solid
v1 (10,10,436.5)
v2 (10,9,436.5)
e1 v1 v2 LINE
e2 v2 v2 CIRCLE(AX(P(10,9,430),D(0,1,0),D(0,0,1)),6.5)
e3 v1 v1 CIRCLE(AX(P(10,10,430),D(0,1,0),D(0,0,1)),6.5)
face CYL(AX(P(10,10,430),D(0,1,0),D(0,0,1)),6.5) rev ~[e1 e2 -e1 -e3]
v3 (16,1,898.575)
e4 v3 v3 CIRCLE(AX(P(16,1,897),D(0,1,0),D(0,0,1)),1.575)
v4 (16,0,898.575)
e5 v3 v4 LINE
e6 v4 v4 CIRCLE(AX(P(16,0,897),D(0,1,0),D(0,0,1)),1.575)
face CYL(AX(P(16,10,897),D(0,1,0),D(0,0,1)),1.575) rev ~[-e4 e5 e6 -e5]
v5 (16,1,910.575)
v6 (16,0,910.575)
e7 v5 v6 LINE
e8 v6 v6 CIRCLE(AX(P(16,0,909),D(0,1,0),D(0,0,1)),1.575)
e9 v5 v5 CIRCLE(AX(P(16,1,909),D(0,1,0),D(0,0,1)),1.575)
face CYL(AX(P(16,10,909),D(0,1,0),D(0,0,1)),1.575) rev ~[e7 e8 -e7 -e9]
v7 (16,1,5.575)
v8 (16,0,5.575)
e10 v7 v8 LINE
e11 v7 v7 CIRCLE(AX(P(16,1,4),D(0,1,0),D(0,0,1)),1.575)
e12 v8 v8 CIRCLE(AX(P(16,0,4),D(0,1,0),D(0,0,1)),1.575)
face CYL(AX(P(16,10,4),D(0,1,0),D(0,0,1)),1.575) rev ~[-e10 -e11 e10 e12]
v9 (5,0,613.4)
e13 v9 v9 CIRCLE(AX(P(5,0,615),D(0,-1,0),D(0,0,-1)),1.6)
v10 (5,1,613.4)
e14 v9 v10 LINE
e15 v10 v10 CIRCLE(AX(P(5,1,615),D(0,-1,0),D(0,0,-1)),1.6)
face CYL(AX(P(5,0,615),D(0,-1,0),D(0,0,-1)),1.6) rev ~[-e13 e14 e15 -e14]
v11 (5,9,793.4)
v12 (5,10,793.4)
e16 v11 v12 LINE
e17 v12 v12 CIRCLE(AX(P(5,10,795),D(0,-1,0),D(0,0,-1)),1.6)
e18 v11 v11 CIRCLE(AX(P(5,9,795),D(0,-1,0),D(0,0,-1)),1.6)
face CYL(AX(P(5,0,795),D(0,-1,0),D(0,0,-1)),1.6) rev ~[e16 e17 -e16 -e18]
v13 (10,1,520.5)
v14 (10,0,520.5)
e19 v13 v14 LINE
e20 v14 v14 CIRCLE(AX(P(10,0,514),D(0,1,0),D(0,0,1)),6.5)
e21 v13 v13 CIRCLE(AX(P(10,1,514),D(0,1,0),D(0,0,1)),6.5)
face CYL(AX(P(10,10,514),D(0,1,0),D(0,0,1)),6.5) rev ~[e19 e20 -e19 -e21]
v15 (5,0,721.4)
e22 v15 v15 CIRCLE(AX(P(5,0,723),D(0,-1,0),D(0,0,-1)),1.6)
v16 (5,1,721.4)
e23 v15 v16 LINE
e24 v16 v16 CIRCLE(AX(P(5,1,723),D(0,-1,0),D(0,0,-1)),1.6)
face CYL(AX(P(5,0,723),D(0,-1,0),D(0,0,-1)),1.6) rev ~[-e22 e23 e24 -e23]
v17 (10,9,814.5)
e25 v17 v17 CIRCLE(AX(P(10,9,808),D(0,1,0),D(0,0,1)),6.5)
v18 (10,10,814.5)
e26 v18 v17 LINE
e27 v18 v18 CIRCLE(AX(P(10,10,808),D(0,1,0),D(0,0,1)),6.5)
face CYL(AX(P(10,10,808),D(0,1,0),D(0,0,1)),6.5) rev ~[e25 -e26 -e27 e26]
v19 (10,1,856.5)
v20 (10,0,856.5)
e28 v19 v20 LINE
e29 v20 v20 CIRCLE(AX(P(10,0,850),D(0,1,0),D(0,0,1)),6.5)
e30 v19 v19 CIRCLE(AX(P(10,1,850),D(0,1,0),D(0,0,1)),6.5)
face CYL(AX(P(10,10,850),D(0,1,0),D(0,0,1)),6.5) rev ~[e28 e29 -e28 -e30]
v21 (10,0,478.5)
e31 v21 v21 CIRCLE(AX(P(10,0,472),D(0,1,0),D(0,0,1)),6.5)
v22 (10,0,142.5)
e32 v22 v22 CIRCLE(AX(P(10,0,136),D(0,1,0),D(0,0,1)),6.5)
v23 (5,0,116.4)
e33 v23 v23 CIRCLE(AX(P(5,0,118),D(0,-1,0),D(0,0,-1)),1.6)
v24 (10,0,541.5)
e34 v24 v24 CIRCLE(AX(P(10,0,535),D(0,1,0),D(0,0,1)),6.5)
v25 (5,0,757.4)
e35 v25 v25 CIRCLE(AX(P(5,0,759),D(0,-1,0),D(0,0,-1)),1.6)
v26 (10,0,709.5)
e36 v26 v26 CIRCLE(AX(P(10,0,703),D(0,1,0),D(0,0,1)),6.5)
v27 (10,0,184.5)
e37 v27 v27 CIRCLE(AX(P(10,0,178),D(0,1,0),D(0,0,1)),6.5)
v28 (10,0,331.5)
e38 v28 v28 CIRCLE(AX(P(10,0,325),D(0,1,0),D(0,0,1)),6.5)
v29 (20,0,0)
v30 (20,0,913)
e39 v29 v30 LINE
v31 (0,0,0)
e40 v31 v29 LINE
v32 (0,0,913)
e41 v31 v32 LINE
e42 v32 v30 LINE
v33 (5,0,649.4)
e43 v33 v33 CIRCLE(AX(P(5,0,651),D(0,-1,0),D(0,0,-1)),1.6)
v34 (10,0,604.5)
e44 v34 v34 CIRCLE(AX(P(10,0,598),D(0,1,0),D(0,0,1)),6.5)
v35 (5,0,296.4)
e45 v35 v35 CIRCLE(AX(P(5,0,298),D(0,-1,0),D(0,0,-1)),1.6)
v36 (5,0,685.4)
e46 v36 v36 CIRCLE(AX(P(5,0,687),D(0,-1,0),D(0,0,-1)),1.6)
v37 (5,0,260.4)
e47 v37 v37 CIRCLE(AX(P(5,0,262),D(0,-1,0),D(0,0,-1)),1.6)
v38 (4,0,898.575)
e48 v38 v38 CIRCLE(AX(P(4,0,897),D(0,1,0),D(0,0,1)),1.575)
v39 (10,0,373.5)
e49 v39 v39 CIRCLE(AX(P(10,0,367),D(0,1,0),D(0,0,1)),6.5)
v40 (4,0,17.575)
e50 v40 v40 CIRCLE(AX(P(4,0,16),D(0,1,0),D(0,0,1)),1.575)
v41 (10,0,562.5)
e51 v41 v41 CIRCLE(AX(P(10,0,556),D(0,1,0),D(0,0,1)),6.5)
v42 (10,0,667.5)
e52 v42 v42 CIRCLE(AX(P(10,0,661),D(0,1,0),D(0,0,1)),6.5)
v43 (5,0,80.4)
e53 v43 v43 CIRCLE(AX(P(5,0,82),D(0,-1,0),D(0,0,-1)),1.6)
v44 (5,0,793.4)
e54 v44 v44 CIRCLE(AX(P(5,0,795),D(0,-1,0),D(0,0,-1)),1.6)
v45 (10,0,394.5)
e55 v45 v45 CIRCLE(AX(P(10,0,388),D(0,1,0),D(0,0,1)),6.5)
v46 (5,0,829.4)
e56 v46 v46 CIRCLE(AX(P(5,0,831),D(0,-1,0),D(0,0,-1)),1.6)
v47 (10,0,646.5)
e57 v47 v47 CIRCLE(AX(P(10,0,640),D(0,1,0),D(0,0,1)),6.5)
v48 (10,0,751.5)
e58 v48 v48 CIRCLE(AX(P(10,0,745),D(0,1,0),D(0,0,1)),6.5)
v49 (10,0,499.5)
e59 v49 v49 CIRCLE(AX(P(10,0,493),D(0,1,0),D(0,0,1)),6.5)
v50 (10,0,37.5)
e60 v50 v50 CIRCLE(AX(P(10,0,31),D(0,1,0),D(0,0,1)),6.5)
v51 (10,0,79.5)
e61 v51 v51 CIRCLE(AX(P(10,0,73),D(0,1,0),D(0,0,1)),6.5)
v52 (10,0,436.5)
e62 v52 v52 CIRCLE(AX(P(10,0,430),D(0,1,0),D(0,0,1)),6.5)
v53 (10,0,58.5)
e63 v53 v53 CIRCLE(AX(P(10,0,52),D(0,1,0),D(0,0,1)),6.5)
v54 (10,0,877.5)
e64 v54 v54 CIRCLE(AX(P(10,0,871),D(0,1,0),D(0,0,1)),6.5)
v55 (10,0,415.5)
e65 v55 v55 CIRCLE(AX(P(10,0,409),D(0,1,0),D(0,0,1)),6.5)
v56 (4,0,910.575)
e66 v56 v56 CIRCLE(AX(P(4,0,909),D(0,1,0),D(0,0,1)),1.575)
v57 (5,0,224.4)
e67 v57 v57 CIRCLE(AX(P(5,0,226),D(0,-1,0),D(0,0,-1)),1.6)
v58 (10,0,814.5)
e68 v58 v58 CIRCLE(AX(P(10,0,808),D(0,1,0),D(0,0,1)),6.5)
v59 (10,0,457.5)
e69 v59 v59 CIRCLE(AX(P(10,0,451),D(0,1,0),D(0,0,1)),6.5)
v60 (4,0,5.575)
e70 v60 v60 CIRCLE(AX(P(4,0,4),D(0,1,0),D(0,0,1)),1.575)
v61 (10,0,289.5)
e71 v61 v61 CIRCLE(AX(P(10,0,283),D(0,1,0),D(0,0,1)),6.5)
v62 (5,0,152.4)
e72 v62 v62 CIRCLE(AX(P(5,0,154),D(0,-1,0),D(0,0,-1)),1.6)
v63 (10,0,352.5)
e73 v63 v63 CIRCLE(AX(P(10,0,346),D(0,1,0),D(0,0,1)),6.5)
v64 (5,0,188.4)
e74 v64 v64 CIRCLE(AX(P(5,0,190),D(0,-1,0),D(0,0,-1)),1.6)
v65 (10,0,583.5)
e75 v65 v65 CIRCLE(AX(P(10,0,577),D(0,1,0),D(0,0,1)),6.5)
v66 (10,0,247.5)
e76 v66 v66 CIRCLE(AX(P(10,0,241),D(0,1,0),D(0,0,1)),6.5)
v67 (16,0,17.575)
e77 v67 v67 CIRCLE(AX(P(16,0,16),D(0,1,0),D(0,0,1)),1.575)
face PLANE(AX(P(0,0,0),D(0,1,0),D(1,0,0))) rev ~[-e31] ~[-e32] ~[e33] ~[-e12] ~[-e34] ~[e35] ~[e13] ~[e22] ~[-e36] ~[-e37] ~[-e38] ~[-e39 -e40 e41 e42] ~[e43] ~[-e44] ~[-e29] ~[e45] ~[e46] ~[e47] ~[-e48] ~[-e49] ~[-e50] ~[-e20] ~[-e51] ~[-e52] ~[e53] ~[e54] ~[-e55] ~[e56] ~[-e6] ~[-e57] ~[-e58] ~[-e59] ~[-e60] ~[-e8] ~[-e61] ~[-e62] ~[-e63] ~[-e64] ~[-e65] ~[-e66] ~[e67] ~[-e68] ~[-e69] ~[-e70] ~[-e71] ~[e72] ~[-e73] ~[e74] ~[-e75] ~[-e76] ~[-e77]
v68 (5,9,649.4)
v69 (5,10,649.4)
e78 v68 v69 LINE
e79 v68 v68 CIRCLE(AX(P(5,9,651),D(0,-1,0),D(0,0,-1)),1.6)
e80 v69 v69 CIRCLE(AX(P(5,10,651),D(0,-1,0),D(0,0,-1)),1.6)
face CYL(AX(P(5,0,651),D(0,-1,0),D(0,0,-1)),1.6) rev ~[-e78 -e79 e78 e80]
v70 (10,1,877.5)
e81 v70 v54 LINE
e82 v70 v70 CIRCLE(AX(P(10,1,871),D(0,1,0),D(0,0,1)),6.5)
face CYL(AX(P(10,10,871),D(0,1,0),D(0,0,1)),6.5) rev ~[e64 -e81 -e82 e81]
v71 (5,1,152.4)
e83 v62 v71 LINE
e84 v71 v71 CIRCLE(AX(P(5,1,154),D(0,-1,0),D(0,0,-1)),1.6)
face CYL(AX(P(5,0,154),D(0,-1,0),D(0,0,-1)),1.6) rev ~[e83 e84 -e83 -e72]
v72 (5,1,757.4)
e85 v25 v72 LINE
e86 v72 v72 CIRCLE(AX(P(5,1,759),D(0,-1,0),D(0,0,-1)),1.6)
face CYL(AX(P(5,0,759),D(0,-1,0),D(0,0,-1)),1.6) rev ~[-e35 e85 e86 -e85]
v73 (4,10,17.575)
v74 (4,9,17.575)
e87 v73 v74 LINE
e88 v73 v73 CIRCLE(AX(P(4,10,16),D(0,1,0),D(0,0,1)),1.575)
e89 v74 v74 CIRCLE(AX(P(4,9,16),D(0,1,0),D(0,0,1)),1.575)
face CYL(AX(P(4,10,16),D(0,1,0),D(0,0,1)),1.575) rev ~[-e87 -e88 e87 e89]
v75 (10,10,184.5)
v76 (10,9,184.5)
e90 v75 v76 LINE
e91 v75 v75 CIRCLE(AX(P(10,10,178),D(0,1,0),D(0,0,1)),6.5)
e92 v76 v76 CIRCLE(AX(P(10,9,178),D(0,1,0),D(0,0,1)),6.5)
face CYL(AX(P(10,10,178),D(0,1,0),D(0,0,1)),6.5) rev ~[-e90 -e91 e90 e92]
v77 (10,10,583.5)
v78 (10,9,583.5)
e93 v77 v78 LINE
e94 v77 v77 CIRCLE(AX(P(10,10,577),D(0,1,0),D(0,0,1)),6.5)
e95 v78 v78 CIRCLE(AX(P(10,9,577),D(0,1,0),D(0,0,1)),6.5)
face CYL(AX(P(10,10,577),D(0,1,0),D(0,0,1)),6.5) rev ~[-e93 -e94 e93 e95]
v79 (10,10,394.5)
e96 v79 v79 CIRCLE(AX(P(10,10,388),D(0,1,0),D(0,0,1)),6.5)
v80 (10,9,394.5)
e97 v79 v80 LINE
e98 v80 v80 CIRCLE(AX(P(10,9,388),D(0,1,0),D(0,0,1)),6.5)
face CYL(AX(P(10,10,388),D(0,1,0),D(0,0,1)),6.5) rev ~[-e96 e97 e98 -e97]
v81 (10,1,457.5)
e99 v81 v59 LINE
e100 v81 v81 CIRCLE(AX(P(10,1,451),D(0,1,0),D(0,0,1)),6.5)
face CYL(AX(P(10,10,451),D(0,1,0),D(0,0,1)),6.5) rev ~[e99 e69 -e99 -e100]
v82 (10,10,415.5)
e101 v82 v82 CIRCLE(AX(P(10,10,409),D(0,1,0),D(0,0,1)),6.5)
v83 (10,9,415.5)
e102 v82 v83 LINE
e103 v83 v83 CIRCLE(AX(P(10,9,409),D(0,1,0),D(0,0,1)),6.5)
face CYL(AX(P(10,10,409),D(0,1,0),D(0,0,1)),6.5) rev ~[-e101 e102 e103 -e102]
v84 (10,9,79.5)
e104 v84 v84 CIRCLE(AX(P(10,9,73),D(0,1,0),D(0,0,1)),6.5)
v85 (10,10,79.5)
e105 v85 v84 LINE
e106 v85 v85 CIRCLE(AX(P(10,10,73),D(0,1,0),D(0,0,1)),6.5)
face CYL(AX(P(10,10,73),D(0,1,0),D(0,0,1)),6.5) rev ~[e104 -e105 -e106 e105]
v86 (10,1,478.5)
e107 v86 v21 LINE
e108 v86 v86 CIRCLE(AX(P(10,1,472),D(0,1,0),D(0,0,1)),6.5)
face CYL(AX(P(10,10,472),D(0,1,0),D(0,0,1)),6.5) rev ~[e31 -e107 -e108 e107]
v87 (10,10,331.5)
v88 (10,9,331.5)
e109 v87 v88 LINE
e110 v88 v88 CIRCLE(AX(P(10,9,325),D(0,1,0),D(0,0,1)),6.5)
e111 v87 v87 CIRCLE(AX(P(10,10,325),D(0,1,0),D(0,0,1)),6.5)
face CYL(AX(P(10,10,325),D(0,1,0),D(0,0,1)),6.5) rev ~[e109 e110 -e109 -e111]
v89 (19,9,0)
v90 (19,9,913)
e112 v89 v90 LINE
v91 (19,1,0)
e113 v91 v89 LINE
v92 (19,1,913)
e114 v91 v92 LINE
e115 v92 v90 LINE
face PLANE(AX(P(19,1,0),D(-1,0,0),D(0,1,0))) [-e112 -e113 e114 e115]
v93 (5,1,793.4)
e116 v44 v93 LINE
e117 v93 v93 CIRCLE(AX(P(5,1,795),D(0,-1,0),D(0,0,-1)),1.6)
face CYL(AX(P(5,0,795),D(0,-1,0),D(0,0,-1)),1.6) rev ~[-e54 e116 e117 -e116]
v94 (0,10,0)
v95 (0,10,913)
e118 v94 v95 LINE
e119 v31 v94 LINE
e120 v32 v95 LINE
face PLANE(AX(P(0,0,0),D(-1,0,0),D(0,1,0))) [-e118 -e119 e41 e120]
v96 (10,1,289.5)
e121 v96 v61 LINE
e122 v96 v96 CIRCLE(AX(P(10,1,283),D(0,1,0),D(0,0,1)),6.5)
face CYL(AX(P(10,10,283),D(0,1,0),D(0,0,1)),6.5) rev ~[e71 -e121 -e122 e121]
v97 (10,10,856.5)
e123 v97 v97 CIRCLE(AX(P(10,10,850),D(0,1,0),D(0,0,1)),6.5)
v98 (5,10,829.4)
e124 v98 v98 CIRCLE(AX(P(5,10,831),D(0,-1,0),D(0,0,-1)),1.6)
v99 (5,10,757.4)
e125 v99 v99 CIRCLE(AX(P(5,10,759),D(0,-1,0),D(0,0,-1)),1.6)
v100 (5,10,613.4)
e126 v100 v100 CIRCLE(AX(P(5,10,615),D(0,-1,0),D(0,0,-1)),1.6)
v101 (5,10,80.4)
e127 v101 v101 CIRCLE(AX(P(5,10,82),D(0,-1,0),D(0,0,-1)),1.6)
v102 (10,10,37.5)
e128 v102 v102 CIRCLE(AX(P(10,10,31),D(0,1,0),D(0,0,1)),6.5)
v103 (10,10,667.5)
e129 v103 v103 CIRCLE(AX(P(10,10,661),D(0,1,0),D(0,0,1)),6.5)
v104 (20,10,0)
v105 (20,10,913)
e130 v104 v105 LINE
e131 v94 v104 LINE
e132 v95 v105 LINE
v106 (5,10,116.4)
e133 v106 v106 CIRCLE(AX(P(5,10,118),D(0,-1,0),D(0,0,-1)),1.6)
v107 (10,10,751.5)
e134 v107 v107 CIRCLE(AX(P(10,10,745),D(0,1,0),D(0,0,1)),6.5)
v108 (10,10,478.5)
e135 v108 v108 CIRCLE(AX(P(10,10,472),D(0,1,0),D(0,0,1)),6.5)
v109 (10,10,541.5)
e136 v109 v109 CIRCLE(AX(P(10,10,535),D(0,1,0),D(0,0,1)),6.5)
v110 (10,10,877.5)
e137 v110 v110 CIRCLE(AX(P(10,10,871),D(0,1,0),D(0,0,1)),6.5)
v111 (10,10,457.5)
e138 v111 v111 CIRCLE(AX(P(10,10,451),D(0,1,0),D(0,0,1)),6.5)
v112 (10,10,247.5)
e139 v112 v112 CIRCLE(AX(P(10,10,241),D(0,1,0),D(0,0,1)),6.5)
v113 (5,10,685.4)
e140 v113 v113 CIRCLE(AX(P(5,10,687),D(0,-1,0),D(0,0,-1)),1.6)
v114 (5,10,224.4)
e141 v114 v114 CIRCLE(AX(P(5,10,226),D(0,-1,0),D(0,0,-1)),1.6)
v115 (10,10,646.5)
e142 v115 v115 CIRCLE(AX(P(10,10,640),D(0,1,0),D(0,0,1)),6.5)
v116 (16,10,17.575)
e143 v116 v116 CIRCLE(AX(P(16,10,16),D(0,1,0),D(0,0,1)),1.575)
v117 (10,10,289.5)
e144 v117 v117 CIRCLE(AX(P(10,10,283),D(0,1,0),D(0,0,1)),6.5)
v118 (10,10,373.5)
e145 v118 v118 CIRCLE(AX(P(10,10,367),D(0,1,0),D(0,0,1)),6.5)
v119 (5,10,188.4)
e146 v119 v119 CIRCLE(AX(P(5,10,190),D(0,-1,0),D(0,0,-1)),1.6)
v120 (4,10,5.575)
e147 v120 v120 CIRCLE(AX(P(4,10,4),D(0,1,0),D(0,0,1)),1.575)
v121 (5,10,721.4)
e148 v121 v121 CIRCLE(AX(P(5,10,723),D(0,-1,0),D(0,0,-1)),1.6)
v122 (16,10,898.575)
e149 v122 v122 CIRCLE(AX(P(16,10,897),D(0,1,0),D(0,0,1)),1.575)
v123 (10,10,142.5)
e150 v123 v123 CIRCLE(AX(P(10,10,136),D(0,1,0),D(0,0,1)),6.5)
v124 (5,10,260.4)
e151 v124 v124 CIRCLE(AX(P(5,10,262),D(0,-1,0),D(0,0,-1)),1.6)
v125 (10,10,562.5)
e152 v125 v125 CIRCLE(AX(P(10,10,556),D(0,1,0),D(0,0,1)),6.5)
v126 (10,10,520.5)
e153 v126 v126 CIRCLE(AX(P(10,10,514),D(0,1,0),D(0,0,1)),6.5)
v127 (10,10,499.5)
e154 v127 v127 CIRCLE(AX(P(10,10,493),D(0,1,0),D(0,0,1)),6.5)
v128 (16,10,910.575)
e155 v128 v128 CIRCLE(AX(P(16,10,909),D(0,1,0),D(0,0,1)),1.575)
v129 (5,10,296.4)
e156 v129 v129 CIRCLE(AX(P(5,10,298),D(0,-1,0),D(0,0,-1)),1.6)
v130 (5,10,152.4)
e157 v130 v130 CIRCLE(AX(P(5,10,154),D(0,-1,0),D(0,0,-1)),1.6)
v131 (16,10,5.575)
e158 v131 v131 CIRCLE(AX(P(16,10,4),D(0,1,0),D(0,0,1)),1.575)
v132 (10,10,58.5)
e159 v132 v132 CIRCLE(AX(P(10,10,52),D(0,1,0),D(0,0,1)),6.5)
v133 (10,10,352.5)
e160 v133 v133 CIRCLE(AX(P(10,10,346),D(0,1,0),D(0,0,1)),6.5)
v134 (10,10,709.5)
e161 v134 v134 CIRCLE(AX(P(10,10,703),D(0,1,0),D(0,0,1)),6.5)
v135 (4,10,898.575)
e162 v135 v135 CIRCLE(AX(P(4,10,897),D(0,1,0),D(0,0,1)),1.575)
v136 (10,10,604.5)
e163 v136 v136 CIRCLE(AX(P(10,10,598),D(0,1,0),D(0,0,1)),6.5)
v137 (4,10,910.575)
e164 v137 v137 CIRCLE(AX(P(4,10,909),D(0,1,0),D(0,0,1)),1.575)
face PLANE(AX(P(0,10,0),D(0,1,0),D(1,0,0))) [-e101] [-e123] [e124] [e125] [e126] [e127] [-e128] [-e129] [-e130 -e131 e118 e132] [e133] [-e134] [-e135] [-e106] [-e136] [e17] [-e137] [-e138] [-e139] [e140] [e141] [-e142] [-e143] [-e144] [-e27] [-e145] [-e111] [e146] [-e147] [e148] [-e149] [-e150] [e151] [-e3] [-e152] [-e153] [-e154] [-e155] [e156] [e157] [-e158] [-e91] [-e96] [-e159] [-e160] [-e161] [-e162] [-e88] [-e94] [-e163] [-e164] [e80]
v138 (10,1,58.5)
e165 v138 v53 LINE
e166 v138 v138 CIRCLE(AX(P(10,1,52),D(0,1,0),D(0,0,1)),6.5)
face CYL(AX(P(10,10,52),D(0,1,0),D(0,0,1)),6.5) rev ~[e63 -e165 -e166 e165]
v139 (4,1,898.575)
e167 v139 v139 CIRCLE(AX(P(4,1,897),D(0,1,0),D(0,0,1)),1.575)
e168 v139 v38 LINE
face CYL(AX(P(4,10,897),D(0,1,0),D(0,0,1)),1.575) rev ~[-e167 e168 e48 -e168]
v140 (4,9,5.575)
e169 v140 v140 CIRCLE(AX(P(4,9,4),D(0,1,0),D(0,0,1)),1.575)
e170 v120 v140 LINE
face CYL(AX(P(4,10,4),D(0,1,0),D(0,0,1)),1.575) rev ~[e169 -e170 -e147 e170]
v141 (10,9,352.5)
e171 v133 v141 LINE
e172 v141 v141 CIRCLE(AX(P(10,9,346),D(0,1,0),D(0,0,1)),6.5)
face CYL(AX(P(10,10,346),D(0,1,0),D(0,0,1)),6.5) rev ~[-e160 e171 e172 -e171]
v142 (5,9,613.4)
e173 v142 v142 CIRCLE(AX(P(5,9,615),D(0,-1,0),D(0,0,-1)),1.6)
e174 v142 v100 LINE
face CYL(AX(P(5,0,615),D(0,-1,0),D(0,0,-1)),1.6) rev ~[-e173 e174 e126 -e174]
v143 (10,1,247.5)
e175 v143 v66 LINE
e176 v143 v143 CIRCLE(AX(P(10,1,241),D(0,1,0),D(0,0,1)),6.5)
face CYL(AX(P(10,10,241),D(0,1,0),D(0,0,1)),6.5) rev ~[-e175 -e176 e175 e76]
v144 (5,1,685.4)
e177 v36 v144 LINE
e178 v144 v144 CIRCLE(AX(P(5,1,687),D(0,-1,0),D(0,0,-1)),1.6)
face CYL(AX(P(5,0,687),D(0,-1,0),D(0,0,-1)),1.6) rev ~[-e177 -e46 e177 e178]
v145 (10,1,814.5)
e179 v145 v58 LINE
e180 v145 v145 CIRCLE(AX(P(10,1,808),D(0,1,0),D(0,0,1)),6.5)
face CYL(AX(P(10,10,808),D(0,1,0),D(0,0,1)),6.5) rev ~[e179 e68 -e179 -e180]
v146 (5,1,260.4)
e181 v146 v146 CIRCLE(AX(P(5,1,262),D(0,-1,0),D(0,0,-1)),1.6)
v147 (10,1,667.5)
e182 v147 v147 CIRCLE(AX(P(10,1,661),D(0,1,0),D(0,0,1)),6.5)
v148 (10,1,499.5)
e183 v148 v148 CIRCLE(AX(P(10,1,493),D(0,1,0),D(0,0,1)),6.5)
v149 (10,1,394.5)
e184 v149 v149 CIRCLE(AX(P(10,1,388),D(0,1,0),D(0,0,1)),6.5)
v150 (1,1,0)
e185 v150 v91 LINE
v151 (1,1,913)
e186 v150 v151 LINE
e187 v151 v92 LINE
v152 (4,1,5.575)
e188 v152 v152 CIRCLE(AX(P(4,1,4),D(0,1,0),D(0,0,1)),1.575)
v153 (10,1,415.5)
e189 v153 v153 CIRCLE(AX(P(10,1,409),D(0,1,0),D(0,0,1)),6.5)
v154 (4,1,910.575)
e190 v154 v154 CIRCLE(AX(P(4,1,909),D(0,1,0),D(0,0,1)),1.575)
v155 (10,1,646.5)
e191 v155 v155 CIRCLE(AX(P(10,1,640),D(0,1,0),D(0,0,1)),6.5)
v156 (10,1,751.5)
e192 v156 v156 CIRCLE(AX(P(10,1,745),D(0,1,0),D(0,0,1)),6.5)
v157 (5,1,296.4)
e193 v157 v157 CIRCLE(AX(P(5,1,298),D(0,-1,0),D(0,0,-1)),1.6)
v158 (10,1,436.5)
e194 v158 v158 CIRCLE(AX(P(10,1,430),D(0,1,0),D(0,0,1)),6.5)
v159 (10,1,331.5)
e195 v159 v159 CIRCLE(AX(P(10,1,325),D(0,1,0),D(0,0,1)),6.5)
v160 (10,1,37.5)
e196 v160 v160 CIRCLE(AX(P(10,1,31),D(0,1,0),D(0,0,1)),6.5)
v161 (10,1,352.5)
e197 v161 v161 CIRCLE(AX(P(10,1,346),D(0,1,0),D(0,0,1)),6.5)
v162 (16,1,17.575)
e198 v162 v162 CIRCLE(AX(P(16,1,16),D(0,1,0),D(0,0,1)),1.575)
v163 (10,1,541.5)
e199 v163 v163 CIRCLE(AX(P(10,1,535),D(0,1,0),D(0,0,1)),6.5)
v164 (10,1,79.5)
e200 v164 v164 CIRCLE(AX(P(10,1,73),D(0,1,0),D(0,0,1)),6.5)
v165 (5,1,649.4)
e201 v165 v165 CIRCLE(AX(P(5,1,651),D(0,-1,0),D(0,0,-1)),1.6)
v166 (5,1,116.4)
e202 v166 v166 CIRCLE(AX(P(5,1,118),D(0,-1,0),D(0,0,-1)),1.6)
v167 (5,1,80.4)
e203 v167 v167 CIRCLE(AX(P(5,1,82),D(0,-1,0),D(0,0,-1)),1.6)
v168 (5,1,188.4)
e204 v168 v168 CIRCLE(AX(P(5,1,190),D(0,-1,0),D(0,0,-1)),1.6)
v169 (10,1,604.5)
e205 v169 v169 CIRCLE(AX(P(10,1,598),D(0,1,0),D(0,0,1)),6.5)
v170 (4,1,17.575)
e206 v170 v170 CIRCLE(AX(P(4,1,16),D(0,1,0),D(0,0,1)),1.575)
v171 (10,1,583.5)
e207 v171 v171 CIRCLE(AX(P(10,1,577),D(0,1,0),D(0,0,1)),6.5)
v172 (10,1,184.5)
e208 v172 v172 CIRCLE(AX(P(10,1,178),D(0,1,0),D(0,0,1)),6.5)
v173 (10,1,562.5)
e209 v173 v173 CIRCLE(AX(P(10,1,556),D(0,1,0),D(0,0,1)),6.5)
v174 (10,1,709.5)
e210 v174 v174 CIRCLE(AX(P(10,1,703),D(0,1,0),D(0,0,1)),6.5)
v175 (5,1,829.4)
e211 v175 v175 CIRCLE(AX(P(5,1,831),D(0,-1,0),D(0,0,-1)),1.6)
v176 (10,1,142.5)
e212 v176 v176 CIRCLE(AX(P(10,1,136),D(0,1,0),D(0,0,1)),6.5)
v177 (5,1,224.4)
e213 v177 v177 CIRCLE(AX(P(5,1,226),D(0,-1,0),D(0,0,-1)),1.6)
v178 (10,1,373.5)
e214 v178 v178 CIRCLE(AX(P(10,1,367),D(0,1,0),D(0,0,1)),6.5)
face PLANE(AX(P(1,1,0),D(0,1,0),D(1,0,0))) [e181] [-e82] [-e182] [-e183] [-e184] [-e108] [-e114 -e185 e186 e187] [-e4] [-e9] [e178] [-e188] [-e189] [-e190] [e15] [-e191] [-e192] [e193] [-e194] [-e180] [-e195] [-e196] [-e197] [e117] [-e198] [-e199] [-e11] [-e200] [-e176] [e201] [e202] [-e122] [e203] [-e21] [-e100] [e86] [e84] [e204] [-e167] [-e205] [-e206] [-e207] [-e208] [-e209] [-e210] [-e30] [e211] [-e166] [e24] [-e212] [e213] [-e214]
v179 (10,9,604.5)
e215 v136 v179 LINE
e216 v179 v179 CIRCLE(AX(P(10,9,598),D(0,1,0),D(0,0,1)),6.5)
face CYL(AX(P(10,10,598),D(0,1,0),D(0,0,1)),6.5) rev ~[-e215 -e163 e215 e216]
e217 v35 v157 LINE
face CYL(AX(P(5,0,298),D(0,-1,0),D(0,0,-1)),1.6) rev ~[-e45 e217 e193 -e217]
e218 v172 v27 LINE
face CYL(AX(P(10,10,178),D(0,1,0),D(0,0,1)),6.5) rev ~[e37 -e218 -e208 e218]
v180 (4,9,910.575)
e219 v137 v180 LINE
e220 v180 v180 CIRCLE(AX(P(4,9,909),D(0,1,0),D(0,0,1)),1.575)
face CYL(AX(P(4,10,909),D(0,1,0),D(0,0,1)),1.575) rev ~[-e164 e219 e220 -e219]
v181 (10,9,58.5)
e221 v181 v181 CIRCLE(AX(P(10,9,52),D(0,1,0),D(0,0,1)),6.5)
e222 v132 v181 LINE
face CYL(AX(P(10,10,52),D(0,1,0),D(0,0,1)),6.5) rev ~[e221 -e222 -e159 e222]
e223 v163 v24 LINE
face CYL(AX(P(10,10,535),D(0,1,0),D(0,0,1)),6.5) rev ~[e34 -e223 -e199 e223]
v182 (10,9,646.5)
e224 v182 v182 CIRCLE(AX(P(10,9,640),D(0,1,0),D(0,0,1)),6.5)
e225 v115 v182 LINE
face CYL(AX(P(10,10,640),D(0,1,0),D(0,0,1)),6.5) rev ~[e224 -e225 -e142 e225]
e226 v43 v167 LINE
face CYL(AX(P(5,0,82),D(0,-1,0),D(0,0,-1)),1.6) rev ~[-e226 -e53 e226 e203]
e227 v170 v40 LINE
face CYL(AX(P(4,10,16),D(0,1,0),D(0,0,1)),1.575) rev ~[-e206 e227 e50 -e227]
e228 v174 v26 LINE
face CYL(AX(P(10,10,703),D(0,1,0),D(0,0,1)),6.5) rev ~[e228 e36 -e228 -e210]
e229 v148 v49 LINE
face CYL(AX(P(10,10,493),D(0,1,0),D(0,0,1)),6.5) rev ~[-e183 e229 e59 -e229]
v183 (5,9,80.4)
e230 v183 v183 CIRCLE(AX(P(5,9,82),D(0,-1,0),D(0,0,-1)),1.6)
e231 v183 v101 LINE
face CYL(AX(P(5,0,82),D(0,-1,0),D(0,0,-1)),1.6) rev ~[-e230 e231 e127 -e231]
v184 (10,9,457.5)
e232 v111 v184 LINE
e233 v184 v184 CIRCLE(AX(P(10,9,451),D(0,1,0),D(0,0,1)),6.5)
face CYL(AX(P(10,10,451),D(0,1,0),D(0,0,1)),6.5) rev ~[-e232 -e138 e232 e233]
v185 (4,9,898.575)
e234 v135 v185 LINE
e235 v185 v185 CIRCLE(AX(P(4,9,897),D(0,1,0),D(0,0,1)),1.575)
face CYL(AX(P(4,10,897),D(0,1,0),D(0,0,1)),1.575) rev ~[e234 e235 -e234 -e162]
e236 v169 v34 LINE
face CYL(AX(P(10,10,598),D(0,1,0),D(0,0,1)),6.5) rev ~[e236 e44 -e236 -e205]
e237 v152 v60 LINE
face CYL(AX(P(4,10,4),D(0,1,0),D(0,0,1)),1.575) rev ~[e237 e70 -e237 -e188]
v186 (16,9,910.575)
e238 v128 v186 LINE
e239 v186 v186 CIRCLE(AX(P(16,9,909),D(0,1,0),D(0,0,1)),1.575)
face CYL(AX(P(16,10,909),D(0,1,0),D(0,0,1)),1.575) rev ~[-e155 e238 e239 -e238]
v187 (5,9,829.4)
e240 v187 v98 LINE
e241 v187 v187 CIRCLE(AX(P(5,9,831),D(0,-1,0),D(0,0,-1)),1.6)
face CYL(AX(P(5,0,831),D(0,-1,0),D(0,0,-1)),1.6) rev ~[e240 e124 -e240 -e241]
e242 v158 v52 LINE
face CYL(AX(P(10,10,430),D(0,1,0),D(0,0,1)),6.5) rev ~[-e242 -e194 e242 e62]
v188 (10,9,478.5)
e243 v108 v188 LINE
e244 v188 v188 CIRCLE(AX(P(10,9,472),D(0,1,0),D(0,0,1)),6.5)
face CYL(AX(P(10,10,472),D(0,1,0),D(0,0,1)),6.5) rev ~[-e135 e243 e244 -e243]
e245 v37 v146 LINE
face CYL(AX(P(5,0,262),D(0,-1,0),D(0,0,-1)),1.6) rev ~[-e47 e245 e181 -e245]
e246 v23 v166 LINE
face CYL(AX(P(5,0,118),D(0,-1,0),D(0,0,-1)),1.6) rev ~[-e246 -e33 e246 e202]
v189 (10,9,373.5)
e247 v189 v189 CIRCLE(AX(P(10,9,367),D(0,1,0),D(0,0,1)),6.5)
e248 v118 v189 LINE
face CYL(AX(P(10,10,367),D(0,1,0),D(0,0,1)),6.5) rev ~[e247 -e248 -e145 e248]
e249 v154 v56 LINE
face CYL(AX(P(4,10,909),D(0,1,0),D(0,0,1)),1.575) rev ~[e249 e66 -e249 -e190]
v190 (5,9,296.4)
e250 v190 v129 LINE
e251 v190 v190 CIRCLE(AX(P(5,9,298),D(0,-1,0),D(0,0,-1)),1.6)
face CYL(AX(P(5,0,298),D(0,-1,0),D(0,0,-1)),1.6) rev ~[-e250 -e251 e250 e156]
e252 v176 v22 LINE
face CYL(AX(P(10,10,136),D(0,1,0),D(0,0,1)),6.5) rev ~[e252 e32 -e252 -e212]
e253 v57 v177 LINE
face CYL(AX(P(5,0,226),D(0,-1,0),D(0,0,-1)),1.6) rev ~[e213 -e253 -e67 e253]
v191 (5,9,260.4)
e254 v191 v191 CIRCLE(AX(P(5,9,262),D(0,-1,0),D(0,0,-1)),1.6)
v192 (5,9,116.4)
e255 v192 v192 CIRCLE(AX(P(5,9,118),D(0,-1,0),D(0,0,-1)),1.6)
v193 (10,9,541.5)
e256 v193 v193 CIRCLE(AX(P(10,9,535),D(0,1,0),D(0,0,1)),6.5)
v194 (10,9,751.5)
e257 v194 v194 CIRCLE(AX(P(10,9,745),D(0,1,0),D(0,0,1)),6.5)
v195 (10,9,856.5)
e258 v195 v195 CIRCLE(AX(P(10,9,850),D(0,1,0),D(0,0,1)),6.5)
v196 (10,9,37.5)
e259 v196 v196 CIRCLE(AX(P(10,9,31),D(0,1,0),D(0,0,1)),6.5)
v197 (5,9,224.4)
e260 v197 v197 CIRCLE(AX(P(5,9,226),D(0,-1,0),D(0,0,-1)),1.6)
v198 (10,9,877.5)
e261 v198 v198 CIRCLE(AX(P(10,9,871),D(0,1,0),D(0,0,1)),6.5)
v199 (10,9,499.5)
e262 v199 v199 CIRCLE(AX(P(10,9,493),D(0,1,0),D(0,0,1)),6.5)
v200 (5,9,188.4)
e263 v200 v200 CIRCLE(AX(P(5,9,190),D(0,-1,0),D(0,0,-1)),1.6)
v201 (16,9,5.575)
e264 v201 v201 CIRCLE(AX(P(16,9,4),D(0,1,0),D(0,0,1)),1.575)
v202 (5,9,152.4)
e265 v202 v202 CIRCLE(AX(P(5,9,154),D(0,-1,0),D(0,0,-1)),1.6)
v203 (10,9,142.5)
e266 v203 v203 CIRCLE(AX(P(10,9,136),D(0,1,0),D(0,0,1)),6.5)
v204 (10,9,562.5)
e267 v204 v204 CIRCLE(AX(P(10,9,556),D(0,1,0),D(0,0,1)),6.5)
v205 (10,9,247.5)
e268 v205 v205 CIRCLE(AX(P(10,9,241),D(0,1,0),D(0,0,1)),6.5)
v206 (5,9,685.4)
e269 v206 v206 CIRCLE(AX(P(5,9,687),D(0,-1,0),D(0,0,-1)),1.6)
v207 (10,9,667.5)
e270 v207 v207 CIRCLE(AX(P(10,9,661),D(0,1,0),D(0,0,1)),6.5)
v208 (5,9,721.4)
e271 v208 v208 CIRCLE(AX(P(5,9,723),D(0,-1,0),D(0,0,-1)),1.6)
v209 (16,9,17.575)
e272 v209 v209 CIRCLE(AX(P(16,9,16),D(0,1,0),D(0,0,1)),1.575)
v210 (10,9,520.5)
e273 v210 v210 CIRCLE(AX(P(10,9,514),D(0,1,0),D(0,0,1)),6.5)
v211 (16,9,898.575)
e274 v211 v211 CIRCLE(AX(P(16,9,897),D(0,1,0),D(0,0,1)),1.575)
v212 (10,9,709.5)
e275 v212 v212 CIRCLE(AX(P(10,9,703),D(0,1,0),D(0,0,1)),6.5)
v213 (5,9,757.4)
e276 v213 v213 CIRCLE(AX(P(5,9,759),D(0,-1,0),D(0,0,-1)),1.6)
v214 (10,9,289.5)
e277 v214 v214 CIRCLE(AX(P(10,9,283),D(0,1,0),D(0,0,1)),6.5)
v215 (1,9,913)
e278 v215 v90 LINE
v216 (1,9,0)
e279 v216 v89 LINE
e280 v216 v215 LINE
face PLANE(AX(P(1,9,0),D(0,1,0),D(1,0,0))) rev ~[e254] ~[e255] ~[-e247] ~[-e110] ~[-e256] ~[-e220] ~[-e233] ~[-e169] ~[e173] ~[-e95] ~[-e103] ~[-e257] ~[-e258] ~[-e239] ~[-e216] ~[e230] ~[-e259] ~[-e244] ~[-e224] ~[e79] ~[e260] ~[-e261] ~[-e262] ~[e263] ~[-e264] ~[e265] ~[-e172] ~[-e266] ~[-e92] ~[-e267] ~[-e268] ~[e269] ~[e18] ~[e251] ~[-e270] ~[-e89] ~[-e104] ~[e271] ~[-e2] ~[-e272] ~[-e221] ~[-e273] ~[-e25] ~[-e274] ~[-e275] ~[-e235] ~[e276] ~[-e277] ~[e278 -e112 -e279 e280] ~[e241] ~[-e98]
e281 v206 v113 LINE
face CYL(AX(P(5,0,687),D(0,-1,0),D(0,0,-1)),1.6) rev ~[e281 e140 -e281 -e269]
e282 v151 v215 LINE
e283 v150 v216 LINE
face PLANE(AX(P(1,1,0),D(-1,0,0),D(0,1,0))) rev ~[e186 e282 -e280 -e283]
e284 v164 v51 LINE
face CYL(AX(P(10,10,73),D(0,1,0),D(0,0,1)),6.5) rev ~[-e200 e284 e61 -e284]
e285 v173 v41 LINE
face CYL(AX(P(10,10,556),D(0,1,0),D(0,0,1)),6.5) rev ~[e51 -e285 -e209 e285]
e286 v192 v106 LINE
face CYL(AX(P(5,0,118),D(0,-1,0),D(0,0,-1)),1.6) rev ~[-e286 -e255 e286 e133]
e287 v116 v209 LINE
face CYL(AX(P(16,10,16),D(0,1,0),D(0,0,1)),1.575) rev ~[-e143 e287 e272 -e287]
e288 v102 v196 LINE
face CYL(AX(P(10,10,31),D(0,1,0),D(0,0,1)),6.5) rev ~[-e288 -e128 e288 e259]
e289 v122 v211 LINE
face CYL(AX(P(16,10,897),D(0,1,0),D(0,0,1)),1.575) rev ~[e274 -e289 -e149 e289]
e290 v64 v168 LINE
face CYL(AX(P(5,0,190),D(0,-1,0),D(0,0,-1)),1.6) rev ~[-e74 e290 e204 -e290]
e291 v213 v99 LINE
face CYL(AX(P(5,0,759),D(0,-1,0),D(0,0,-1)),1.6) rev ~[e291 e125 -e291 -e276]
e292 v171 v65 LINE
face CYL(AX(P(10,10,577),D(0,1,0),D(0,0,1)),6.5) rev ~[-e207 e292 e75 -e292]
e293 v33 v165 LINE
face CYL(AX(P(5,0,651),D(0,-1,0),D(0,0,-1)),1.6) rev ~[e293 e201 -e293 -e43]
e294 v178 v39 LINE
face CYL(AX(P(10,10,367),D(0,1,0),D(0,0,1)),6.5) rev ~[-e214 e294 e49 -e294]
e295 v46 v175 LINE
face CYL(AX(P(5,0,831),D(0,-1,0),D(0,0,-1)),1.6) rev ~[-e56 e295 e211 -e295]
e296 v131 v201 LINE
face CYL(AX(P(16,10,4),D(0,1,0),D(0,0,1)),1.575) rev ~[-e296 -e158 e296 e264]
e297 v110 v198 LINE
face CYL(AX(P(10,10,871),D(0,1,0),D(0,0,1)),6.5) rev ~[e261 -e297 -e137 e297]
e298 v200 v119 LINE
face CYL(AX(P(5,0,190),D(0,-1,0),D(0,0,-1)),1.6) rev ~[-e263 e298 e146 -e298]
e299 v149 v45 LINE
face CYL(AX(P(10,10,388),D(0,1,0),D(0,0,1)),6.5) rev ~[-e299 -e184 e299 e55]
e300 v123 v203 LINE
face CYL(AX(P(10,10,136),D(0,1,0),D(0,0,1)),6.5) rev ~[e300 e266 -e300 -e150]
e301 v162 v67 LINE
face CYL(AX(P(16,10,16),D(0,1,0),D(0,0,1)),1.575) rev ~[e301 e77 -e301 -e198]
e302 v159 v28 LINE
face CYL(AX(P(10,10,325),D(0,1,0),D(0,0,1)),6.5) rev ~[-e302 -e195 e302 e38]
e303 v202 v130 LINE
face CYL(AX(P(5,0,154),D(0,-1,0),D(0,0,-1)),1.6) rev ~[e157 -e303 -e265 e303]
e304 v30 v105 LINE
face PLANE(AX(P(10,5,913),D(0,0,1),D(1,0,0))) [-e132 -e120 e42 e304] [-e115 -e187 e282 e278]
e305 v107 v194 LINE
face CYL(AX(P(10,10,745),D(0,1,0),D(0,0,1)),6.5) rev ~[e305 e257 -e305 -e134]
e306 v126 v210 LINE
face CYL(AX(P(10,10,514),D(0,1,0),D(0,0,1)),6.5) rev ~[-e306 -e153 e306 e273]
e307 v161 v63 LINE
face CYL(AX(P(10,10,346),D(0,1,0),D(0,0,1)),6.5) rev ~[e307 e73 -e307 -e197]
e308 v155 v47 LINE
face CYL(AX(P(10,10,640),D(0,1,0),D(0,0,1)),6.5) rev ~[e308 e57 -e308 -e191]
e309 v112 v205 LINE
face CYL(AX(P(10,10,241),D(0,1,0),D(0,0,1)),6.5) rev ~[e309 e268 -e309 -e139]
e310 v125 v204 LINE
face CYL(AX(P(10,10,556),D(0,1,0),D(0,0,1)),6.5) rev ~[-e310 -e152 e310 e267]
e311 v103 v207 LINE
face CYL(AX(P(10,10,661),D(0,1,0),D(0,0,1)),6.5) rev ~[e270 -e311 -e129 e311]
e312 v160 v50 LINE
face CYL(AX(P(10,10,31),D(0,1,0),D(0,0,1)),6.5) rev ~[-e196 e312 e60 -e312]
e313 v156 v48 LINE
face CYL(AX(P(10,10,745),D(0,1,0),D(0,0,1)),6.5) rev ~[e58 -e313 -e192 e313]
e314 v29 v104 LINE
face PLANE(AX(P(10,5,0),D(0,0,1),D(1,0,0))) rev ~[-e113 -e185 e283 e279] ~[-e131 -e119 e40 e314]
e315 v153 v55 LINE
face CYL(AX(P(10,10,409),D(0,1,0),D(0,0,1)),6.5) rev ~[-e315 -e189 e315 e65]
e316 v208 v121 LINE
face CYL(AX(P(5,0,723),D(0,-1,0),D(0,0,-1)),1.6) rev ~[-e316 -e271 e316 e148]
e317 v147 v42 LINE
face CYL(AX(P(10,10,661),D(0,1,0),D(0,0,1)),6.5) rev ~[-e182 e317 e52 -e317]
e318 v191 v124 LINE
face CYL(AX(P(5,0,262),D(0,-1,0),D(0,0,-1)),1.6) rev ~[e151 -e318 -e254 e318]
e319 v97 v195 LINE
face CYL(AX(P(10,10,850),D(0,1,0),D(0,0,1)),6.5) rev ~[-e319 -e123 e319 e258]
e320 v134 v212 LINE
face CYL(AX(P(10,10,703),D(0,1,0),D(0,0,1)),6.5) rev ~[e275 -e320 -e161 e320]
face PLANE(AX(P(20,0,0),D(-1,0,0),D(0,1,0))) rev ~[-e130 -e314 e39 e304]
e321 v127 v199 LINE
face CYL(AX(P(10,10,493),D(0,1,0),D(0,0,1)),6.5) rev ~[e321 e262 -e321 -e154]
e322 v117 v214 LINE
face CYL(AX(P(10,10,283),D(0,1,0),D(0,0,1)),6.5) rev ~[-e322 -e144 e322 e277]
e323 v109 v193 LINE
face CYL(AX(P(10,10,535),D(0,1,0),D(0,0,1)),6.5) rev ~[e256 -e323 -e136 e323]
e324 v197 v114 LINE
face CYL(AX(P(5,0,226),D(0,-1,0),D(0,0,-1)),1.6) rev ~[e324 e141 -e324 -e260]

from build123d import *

# Parameters (mm, degrees)
SKETCH_1_W          = 20
SKETCH_1_H          = 10
SKETCH_1_W_2        = 18
SKETCH_1_H_2        = 8
EXTRUDE_1_DEPTH     = 913
SKETCH_2_R          = 1.6
CUT_EXTRUDE_1_DEPTH = 914.273781514
SKETCH_3_R          = 6.5
CUT_EXTRUDE_2_DEPTH = 914.273781514
SKETCH_4_R          = 1.575
CUT_EXTRUDE_3_DEPTH = 914.273781514


with BuildPart() as part:
    # 草图1 → 凸台-拉伸1 (new body)
    with BuildSketch(Plane.XY):
        with Locations((10, 5)):
            Rectangle(SKETCH_1_W, SKETCH_1_H)
        with Locations((10, 5)):
            Rectangle(SKETCH_1_W_2, SKETCH_1_H_2, mode=Mode.SUBTRACT)
    extrude(amount=EXTRUDE_1_DEPTH)

    # 草图2 → 切除-拉伸1 (cut, through all)
    with BuildSketch(Plane.XZ):
        with Locations(Location((5, 759, 0), (0, 0, 270))):
            Circle(SKETCH_2_R)
        with Locations(Location((5, 795, 0), (0, 0, 270))):
            Circle(SKETCH_2_R)
        with Locations(Location((5, 226, 0), (0, 0, 270))):
            Circle(SKETCH_2_R)
        with Locations(Location((5, 831, 0), (0, 0, 270))):
            Circle(SKETCH_2_R)
        with Locations(Location((5, 615, 0), (0, 0, 270))):
            Circle(SKETCH_2_R)
        with Locations(Location((5, 651, 0), (0, 0, 270))):
            Circle(SKETCH_2_R)
        with Locations(Location((5, 687, 0), (0, 0, 270))):
            Circle(SKETCH_2_R)
        with Locations(Location((5, 723, 0), (0, 0, 270))):
            Circle(SKETCH_2_R)
        with Locations(Location((5, 262, 0), (0, 0, 270))):
            Circle(SKETCH_2_R)
        with Locations(Location((5, 298, 0), (0, 0, 270))):
            Circle(SKETCH_2_R)
        with Locations(Location((5, 82, 0), (0, 0, 270))):
            Circle(SKETCH_2_R)
        with Locations(Location((5, 118, 0), (0, 0, 270))):
            Circle(SKETCH_2_R)
        with Locations(Location((5, 154, 0), (0, 0, 270))):
            Circle(SKETCH_2_R)
        with Locations(Location((5, 190, 0), (0, 0, 270))):
            Circle(SKETCH_2_R)
    extrude(amount=-CUT_EXTRUDE_1_DEPTH, mode=Mode.SUBTRACT)

    # 草图3 → 切除-拉伸2 (cut, through all)
    with BuildSketch(Plane(origin=(0, 10, 0), x_dir=(1, 0, 0), z_dir=(0, 1, 0))):
        with Locations(Location((10, -31, 0), (0, 0, 270))):
            Circle(SKETCH_3_R)
        with Locations(Location((10, -52, 0), (0, 0, 270))):
            Circle(SKETCH_3_R)
        with Locations(Location((10, -73, 0), (0, 0, 270))):
            Circle(SKETCH_3_R)
        with Locations(Location((10, -136, 0), (0, 0, 270))):
            Circle(SKETCH_3_R)
        with Locations(Location((10, -178, 0), (0, 0, 270))):
            Circle(SKETCH_3_R)
        with Locations(Location((10, -241, 0), (0, 0, 270))):
            Circle(SKETCH_3_R)
        with Locations(Location((10, -283, 0), (0, 0, 270))):
            Circle(SKETCH_3_R)
        with Locations(Location((10, -325, 0), (0, 0, 270))):
            Circle(SKETCH_3_R)
        with Locations(Location((10, -346, 0), (0, 0, 270))):
            Circle(SKETCH_3_R)
        with Locations(Location((10, -367, 0), (0, 0, 270))):
            Circle(SKETCH_3_R)
        with Locations(Location((10, -388, 0), (0, 0, 270))):
            Circle(SKETCH_3_R)
        with Locations(Location((10, -409, 0), (0, 0, 270))):
            Circle(SKETCH_3_R)
        with Locations(Location((10, -430, 0), (0, 0, 270))):
            Circle(SKETCH_3_R)
        with Locations(Location((10, -451, 0), (0, 0, 270))):
            Circle(SKETCH_3_R)
        with Locations(Location((10, -472, 0), (0, 0, 270))):
            Circle(SKETCH_3_R)
        with Locations(Location((10, -493, 0), (0, 0, 270))):
            Circle(SKETCH_3_R)
        with Locations(Location((10, -514, 0), (0, 0, 270))):
            Circle(SKETCH_3_R)
        with Locations(Location((10, -535, 0), (0, 0, 270))):
            Circle(SKETCH_3_R)
        with Locations(Location((10, -556, 0), (0, 0, 270))):
            Circle(SKETCH_3_R)
        with Locations(Location((10, -577, 0), (0, 0, 270))):
            Circle(SKETCH_3_R)
        with Locations(Location((10, -598, 0), (0, 0, 270))):
            Circle(SKETCH_3_R)
        with Locations(Location((10, -640, 0), (0, 0, 270))):
            Circle(SKETCH_3_R)
        with Locations(Location((10, -661, 0), (0, 0, 270))):
            Circle(SKETCH_3_R)
        with Locations(Location((10, -703, 0), (0, 0, 270))):
            Circle(SKETCH_3_R)
        with Locations(Location((10, -745, 0), (0, 0, 270))):
            Circle(SKETCH_3_R)
        with Locations(Location((10, -808, 0), (0, 0, 270))):
            Circle(SKETCH_3_R)
        with Locations(Location((10, -850, 0), (0, 0, 270))):
            Circle(SKETCH_3_R)
        with Locations(Location((10, -871, 0), (0, 0, 270))):
            Circle(SKETCH_3_R)
    extrude(amount=-CUT_EXTRUDE_2_DEPTH, mode=Mode.SUBTRACT)

    # 草图4 → 切除-拉伸3 (cut, through all)
    with BuildSketch(Plane(origin=(0, 10, 0), x_dir=(1, 0, 0), z_dir=(0, 1, 0))):
        with Locations(Location((16, -909, 0), (0, 0, 270))):
            Circle(SKETCH_4_R)
        with Locations(Location((4, -909, 0), (0, 0, 270))):
            Circle(SKETCH_4_R)
        with Locations(Location((4, -897, 0), (0, 0, 270))):
            Circle(SKETCH_4_R)
        with Locations(Location((16, -897, 0), (0, 0, 270))):
            Circle(SKETCH_4_R)
        with Locations(Location((16, -4, 0), (0, 0, 270))):
            Circle(SKETCH_4_R)
        with Locations(Location((4, -4, 0), (0, 0, 270))):
            Circle(SKETCH_4_R)
        with Locations(Location((4, -16, 0), (0, 0, 270))):
            Circle(SKETCH_4_R)
        with Locations(Location((16, -16, 0), (0, 0, 270))):
            Circle(SKETCH_4_R)
    extrude(amount=-CUT_EXTRUDE_3_DEPTH, mode=Mode.SUBTRACT)


solid = part.part
